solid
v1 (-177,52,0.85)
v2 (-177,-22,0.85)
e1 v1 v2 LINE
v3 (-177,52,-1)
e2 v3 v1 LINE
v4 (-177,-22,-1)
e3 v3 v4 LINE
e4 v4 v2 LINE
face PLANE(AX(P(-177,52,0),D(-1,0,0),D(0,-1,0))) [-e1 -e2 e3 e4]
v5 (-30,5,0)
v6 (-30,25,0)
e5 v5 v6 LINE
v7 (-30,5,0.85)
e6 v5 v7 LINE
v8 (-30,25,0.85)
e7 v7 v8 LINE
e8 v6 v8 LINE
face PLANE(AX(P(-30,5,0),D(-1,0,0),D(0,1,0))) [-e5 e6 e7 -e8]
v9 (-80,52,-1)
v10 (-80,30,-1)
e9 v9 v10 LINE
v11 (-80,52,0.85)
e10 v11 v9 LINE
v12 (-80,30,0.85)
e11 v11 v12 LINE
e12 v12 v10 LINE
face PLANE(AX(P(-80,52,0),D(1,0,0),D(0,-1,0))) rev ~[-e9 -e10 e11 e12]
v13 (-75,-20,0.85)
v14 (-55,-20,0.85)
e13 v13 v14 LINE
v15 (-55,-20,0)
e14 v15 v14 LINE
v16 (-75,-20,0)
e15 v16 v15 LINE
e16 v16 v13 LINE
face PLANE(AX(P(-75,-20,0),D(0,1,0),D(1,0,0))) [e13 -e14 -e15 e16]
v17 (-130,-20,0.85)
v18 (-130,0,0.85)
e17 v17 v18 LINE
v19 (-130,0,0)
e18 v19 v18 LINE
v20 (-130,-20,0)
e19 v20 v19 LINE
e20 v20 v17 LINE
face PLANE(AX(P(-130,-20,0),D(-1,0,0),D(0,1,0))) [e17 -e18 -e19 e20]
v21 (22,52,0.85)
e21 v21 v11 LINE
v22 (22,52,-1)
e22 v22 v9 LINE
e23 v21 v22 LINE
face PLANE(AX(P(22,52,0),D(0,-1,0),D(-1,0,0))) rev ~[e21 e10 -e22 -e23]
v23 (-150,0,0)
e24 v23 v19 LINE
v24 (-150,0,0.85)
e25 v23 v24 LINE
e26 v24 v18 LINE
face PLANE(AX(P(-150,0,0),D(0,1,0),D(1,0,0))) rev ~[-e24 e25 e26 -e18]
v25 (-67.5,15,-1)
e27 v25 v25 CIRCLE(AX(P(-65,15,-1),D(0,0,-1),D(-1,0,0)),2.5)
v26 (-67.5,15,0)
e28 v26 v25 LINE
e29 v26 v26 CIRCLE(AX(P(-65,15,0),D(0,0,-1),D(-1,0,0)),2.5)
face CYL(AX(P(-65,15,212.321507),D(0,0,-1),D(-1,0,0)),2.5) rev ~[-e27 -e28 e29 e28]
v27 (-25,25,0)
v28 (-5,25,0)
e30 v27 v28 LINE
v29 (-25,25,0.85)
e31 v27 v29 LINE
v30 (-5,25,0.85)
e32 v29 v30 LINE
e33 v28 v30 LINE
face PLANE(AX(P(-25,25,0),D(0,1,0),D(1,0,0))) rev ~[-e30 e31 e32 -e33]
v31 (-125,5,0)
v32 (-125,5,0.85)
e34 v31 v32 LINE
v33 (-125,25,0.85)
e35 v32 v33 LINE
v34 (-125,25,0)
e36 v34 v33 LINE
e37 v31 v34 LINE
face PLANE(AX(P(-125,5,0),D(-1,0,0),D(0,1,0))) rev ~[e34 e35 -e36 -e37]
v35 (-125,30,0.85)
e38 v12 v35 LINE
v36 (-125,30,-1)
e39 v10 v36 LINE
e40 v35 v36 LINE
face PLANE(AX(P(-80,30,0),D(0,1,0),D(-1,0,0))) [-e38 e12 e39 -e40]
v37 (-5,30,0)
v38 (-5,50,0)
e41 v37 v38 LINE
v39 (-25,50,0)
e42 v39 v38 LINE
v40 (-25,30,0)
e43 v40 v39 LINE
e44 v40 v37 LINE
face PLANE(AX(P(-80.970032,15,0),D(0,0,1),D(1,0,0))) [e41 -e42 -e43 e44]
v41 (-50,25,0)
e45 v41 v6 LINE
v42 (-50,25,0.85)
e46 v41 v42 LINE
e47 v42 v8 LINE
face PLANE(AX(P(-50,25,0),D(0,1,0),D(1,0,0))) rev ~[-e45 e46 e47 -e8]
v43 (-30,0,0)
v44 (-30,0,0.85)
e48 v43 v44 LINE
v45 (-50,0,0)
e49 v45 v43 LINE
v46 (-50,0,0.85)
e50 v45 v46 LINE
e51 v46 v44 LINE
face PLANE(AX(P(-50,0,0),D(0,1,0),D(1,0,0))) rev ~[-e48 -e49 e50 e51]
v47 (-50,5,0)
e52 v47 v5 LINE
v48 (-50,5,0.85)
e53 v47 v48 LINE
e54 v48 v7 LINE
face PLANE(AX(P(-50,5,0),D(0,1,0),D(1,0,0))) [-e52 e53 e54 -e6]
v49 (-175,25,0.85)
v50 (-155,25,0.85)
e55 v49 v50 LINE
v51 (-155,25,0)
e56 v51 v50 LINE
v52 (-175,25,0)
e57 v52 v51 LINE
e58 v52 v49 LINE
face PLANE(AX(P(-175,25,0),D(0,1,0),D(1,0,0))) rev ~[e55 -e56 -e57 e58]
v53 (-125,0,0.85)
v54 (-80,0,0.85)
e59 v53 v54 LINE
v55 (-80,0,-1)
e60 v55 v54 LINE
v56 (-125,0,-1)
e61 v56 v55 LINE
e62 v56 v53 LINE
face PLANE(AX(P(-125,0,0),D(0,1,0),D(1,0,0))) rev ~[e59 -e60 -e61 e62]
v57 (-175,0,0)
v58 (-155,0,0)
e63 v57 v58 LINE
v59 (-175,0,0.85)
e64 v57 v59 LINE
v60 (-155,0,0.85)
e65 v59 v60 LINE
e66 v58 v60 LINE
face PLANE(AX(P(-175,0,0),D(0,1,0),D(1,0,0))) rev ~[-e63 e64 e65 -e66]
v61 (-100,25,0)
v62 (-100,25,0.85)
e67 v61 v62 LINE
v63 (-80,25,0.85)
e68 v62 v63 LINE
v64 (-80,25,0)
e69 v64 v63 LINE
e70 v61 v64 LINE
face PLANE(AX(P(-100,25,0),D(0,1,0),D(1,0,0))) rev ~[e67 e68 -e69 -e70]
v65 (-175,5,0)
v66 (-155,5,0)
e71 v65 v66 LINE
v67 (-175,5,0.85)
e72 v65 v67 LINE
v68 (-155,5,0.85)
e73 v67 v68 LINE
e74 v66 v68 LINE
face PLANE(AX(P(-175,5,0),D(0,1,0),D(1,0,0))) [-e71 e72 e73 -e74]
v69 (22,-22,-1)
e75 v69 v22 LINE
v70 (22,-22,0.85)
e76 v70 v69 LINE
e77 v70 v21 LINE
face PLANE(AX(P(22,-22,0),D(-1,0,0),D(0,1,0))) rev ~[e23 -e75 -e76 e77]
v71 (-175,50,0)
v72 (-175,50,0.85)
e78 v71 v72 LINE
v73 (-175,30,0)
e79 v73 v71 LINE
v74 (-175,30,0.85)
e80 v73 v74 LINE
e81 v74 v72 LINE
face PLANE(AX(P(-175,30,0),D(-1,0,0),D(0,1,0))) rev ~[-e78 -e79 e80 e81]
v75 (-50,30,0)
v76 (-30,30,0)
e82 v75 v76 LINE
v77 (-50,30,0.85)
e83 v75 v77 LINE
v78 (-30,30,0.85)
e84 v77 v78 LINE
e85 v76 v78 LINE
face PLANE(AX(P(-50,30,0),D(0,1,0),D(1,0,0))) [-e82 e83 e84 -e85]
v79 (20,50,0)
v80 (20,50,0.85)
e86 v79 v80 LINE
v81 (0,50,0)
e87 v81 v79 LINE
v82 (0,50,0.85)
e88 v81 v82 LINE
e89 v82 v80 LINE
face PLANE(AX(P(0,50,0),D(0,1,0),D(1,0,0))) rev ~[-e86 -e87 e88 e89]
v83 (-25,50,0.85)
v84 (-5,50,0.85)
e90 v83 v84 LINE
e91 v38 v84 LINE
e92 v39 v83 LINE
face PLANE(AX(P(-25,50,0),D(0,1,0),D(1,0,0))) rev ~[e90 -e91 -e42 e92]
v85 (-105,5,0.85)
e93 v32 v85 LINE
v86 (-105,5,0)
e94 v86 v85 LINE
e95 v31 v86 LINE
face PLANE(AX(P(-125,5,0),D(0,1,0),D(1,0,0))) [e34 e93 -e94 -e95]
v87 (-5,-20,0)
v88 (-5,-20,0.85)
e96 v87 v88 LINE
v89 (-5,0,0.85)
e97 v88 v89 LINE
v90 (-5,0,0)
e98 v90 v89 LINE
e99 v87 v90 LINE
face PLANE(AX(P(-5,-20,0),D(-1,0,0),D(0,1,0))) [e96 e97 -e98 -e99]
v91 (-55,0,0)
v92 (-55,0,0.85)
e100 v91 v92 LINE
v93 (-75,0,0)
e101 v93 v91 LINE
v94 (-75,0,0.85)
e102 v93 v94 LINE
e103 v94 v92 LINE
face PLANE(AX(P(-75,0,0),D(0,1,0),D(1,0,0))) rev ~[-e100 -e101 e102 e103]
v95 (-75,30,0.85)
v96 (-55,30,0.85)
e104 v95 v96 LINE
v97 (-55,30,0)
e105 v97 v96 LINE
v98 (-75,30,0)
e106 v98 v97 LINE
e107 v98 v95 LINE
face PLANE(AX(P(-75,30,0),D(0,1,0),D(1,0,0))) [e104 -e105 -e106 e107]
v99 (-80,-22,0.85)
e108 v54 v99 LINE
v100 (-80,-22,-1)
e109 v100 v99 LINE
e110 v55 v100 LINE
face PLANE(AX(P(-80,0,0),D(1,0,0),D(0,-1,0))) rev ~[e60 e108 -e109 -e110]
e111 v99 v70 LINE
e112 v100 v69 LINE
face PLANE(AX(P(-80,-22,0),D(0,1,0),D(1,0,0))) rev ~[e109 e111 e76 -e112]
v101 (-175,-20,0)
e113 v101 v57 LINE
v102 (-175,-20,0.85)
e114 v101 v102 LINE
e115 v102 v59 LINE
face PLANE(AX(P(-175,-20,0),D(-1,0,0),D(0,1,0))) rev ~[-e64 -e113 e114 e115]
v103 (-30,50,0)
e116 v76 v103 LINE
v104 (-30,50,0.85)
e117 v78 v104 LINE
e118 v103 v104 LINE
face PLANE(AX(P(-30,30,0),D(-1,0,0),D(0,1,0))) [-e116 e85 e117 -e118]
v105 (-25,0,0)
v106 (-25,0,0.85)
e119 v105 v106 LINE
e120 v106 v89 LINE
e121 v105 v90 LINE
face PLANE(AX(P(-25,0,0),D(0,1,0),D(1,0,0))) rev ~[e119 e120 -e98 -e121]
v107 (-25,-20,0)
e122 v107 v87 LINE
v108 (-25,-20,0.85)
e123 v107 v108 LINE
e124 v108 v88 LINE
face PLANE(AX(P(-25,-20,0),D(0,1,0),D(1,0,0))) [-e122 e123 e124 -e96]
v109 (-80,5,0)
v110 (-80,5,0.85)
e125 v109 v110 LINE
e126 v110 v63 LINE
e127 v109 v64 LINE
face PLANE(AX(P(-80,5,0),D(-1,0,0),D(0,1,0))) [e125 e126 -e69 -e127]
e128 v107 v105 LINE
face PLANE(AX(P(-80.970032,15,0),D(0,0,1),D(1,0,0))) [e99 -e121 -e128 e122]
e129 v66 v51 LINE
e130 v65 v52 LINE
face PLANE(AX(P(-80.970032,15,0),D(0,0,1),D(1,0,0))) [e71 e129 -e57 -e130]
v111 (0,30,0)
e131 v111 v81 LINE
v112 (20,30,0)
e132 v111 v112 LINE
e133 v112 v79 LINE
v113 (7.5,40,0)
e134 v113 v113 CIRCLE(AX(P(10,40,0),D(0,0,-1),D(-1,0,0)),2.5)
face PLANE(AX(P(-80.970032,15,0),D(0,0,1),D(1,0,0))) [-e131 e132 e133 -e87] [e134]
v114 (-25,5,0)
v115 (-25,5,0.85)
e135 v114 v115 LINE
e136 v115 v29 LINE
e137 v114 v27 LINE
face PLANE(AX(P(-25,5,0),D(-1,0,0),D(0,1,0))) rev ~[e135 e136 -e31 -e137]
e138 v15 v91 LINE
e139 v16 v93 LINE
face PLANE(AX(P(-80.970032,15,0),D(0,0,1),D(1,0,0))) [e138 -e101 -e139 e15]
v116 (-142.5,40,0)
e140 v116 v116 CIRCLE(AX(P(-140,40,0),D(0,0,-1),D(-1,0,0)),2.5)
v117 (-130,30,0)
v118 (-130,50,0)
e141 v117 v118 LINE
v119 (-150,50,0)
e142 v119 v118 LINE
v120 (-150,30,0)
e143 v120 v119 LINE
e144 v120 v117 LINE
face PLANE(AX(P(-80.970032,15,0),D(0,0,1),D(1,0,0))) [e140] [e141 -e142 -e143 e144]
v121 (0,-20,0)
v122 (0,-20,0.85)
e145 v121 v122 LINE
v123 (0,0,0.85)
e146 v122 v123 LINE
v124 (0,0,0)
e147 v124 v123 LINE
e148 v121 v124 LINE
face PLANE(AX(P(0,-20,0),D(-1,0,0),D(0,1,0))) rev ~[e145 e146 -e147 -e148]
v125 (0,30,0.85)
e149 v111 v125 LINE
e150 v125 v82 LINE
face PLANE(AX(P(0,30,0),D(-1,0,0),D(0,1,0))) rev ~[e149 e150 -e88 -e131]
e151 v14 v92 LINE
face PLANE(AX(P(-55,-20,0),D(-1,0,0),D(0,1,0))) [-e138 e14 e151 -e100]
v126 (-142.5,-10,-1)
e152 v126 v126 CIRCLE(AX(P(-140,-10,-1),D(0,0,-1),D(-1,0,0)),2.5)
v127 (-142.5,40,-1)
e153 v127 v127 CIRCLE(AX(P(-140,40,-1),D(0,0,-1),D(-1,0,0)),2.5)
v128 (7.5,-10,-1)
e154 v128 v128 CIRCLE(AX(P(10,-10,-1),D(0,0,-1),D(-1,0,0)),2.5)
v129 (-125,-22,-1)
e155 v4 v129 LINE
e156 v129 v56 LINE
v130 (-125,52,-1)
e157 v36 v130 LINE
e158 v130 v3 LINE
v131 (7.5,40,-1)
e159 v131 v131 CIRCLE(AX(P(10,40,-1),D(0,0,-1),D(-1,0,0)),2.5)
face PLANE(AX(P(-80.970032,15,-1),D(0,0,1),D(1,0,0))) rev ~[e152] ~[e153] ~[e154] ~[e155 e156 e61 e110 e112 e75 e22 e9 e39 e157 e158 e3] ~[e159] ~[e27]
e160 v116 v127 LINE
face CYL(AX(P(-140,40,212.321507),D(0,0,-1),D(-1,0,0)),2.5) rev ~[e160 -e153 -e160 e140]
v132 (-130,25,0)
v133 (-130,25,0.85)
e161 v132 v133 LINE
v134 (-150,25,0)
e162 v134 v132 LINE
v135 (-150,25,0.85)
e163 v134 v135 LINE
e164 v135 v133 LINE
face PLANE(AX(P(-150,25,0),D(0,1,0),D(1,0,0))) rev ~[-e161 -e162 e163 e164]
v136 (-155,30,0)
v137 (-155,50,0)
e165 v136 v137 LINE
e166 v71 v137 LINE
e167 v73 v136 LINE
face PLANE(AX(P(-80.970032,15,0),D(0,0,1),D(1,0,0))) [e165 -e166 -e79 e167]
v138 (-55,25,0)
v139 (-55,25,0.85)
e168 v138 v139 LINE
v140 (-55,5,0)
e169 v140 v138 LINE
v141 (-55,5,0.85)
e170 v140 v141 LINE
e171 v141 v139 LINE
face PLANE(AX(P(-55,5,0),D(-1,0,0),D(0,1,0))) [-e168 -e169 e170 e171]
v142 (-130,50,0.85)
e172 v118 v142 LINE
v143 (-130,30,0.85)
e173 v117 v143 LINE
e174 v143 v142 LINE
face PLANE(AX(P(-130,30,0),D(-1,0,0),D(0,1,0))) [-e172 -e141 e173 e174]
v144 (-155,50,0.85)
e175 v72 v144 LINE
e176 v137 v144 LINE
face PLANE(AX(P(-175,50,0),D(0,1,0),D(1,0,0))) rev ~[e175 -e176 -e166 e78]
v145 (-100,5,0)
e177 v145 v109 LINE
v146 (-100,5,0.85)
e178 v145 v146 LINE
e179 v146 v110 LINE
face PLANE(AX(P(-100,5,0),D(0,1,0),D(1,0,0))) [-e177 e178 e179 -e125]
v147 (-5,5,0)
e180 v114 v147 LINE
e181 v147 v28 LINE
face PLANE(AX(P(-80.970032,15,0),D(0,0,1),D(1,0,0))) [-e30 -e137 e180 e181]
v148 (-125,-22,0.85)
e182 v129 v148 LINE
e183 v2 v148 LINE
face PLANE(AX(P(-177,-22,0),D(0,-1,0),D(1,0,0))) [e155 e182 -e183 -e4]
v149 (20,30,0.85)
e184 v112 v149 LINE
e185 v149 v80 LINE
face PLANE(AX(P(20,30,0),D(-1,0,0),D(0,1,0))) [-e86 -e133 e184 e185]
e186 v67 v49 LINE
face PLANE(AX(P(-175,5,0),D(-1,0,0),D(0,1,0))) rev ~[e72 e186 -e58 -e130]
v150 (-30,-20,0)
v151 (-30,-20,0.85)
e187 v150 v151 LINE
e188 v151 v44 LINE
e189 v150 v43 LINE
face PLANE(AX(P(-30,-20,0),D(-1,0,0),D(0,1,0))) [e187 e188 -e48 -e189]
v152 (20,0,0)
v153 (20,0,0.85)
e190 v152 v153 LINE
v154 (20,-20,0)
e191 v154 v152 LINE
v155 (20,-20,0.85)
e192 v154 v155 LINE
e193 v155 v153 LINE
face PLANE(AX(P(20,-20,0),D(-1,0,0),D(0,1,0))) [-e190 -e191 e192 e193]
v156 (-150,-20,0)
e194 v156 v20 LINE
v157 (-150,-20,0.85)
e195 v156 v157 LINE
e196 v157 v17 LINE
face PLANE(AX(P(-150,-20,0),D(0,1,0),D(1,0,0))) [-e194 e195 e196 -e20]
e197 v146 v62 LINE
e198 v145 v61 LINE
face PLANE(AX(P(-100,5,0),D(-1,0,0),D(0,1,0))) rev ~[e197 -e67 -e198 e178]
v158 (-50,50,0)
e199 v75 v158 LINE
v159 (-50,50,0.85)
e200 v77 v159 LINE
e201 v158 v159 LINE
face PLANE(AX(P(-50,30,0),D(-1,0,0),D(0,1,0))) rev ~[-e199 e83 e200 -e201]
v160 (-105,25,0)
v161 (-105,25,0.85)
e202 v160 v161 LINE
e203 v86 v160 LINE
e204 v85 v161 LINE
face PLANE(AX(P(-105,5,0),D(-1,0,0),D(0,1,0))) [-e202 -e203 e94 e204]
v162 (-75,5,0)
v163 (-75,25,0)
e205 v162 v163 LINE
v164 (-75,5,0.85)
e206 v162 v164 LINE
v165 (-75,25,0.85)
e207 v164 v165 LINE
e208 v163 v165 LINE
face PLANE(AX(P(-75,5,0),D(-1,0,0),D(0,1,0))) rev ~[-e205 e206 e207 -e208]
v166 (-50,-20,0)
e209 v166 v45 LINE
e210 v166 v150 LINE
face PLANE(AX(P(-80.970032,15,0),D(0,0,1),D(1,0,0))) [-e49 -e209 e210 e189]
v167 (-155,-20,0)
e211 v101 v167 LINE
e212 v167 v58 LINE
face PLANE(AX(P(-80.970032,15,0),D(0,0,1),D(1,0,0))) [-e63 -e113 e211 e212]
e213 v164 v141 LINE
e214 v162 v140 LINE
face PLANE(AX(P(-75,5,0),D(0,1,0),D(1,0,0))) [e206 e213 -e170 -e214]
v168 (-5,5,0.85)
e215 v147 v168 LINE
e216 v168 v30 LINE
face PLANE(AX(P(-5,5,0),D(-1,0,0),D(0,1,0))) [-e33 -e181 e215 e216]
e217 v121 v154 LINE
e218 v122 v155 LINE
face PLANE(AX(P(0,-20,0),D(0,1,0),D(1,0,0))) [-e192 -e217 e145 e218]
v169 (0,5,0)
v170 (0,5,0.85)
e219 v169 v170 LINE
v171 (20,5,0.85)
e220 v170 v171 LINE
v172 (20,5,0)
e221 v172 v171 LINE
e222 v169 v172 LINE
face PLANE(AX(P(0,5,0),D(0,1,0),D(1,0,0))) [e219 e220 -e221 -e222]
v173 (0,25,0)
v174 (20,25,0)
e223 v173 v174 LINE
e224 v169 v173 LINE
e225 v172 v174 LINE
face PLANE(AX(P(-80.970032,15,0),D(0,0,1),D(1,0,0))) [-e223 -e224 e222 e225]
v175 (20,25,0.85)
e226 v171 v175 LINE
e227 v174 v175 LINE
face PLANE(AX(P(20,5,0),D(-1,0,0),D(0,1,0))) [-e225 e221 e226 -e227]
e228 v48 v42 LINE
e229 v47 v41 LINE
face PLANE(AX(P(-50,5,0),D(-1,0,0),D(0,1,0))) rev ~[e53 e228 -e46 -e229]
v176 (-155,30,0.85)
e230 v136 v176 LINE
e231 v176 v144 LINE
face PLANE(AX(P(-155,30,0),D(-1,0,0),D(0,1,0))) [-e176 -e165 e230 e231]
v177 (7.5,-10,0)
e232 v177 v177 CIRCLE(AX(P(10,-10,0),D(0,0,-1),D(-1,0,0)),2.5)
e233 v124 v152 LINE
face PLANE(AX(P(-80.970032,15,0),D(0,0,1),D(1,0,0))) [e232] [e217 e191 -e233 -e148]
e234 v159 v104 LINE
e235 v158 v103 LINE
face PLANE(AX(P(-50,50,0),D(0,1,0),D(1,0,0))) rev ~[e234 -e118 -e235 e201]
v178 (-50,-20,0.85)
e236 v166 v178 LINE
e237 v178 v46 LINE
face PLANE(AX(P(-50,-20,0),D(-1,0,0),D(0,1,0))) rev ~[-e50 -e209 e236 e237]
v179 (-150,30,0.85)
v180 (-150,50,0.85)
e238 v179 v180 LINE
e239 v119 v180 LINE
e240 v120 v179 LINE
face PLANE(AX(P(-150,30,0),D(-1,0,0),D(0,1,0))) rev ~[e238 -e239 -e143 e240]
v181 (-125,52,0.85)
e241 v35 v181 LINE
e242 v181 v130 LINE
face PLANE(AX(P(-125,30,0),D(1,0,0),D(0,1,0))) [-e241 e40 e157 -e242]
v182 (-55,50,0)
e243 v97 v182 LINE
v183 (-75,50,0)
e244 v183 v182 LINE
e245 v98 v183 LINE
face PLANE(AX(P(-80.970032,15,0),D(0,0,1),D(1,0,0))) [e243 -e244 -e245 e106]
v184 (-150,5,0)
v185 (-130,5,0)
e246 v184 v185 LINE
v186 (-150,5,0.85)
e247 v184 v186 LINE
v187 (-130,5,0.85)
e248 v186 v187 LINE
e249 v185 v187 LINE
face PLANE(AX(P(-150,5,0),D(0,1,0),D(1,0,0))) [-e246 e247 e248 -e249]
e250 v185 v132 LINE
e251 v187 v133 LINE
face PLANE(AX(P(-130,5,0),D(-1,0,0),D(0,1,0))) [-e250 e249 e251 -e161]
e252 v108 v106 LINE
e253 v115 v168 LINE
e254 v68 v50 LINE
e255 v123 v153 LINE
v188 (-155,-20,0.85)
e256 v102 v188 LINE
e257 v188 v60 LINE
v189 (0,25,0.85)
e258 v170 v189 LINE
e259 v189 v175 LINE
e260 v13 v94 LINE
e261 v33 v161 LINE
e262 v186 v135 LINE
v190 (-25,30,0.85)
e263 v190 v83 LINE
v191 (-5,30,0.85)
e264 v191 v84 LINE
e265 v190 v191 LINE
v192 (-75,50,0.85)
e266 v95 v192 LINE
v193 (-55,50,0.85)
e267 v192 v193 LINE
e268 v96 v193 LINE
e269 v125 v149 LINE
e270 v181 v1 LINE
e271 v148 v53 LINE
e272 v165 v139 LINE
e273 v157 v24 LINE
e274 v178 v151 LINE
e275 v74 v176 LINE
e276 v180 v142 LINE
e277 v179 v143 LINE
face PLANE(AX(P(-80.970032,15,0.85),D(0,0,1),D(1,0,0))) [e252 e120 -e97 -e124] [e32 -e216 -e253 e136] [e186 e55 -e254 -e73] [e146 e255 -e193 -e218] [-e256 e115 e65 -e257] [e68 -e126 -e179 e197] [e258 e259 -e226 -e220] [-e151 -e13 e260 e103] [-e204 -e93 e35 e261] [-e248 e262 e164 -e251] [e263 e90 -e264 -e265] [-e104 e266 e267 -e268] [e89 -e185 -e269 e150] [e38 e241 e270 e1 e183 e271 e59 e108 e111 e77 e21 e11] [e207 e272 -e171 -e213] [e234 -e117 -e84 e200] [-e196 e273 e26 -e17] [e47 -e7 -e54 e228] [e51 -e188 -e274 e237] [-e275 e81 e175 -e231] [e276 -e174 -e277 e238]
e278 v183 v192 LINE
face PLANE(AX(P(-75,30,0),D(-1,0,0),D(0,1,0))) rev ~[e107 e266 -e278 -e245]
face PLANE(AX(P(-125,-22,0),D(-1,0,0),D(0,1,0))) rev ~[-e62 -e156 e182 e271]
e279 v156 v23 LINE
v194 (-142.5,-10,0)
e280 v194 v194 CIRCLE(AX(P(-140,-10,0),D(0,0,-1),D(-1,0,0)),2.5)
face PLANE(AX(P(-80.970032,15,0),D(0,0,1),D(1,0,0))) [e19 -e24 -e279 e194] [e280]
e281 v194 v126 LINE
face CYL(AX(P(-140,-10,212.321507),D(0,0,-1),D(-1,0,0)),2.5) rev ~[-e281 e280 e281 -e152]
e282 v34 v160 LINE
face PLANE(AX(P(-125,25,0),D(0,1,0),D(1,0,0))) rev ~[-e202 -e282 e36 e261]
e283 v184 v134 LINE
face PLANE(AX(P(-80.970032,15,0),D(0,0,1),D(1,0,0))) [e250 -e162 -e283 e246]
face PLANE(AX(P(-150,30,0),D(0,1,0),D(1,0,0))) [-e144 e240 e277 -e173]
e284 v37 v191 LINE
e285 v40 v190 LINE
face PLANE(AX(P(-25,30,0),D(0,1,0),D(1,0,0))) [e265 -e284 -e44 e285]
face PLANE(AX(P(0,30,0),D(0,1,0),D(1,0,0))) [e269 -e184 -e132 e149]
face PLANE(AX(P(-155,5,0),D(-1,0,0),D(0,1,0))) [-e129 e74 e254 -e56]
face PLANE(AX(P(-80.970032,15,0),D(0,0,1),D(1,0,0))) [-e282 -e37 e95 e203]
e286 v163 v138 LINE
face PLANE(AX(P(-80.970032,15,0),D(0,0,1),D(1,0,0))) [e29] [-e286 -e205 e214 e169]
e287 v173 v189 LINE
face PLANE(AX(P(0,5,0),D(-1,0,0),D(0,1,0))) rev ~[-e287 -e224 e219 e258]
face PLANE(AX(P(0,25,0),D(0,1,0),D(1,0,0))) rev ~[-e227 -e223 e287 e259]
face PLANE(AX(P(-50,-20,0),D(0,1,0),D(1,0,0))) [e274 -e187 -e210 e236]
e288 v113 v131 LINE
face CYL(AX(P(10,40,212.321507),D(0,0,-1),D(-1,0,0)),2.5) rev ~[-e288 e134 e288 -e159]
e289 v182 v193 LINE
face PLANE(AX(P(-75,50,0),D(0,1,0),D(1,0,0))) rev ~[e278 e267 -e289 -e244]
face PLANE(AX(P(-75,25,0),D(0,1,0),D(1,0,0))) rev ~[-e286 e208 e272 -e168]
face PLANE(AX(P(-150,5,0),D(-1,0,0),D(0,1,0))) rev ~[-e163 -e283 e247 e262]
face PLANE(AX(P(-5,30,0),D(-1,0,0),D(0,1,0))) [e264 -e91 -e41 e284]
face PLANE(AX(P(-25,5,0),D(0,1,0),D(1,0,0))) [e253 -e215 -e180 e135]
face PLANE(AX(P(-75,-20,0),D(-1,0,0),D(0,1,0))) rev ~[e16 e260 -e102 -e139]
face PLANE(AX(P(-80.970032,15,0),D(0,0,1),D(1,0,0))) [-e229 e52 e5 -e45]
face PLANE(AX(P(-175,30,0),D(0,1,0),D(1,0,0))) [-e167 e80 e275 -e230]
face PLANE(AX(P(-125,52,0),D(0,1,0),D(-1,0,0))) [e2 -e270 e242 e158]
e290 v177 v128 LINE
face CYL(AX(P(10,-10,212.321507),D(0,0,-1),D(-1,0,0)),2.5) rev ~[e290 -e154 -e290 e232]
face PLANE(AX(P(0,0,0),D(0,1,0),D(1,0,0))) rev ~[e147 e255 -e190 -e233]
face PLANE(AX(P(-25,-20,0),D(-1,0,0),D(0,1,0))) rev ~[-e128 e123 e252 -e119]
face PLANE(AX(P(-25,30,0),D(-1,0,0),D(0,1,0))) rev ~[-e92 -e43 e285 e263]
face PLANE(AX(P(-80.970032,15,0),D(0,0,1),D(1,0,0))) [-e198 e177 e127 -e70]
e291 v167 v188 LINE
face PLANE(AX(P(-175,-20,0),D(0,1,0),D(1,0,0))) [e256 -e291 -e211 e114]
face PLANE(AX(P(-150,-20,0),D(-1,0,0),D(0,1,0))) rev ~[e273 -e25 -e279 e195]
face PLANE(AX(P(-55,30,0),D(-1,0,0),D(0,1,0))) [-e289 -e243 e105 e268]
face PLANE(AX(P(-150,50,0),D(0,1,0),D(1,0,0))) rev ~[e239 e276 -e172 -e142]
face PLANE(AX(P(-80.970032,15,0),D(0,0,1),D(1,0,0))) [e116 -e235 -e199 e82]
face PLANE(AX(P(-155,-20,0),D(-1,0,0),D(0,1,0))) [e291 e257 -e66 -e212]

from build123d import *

# Parameters (mm, degrees)
F0_W      = 20
F0_H      = 20
F1_DEPTH  = 0.85
F1_FACE_W = 20
F1_FACE_H = 20
F2_DEPTH  = 1
F3_D      = 5


with BuildPart() as f1:
    # F0 (on Top) → F1 (new body)
    with BuildSketch(Plane.XY):
        Polygon((-125, 52), (-177, 52), (-177, -22), (-125, -22), (-125, 0), (-80, 0), (-80, -22), (22, -22), (22, 52), (-80, 52), (-80, 30), (-125, 30), align=None)
        with Locations((-165, -10)):
            Rectangle(F0_W, F0_H, mode=Mode.SUBTRACT)
        with Locations((-140, -10)):
            Rectangle(F0_W, F0_H, mode=Mode.SUBTRACT)
        with Locations((-65, -10)):
            Rectangle(F0_W, F0_H, mode=Mode.SUBTRACT)
        with Locations((-40, -10)):
            Rectangle(F0_W, F0_H, mode=Mode.SUBTRACT)
        with Locations((-15, -10)):
            Rectangle(F0_W, F0_H, mode=Mode.SUBTRACT)
        with Locations((10, -10)):
            Rectangle(F0_W, F0_H, mode=Mode.SUBTRACT)
        with Locations((-165, 15)):
            Rectangle(F0_W, F0_H, mode=Mode.SUBTRACT)
        with Locations((-140, 15)):
            Rectangle(F0_W, F0_H, mode=Mode.SUBTRACT)
        with Locations((-115, 15)):
            Rectangle(F0_W, F0_H, mode=Mode.SUBTRACT)
        with Locations((-90, 15)):
            Rectangle(F0_W, F0_H, mode=Mode.SUBTRACT)
        with Locations((-165, 40)):
            Rectangle(F0_W, F0_H, mode=Mode.SUBTRACT)
        with Locations((-140, 40)):
            Rectangle(F0_W, F0_H, mode=Mode.SUBTRACT)
        with Locations((-65, 15)):
            Rectangle(F0_W, F0_H, mode=Mode.SUBTRACT)
        with Locations((-40, 15)):
            Rectangle(F0_W, F0_H, mode=Mode.SUBTRACT)
        with Locations((-15, 15)):
            Rectangle(F0_W, F0_H, mode=Mode.SUBTRACT)
        with Locations((10, 15)):
            Rectangle(F0_W, F0_H, mode=Mode.SUBTRACT)
        with Locations((-65, 40)):
            Rectangle(F0_W, F0_H, mode=Mode.SUBTRACT)
        with Locations((-40, 40)):
            Rectangle(F0_W, F0_H, mode=Mode.SUBTRACT)
        with Locations((-15, 40)):
            Rectangle(F0_W, F0_H, mode=Mode.SUBTRACT)
        with Locations((10, 40)):
            Rectangle(F0_W, F0_H, mode=Mode.SUBTRACT)
    extrude(amount=F1_DEPTH)

    # F0 (on Top) + F1_face (on face) → F2 (join)
    with BuildSketch(Plane.XY):
        Polygon((-125, 52), (-177, 52), (-177, -22), (-125, -22), (-125, 0), (-80, 0), (-80, -22), (22, -22), (22, 52), (-80, 52), (-80, 30), (-125, 30), align=None)
        with Locations((-165, -10)):
            Rectangle(F0_W, F0_H, mode=Mode.SUBTRACT)
        with Locations((-140, -10)):
            Rectangle(F0_W, F0_H, mode=Mode.SUBTRACT)
        with Locations((-65, -10)):
            Rectangle(F0_W, F0_H, mode=Mode.SUBTRACT)
        with Locations((-40, -10)):
            Rectangle(F0_W, F0_H, mode=Mode.SUBTRACT)
        with Locations((-15, -10)):
            Rectangle(F0_W, F0_H, mode=Mode.SUBTRACT)
        with Locations((10, -10)):
            Rectangle(F0_W, F0_H, mode=Mode.SUBTRACT)
        with Locations((-165, 15)):
            Rectangle(F0_W, F0_H, mode=Mode.SUBTRACT)
        with Locations((-140, 15)):
            Rectangle(F0_W, F0_H, mode=Mode.SUBTRACT)
        with Locations((-115, 15)):
            Rectangle(F0_W, F0_H, mode=Mode.SUBTRACT)
        with Locations((-90, 15)):
            Rectangle(F0_W, F0_H, mode=Mode.SUBTRACT)
        with Locations((-165, 40)):
            Rectangle(F0_W, F0_H, mode=Mode.SUBTRACT)
        with Locations((-140, 40)):
            Rectangle(F0_W, F0_H, mode=Mode.SUBTRACT)
        with Locations((-65, 15)):
            Rectangle(F0_W, F0_H, mode=Mode.SUBTRACT)
        with Locations((-40, 15)):
            Rectangle(F0_W, F0_H, mode=Mode.SUBTRACT)
        with Locations((-15, 15)):
            Rectangle(F0_W, F0_H, mode=Mode.SUBTRACT)
        with Locations((10, 15)):
            Rectangle(F0_W, F0_H, mode=Mode.SUBTRACT)
        with Locations((-65, 40)):
            Rectangle(F0_W, F0_H, mode=Mode.SUBTRACT)
        with Locations((-40, 40)):
            Rectangle(F0_W, F0_H, mode=Mode.SUBTRACT)
        with Locations((-15, 40)):
            Rectangle(F0_W, F0_H, mode=Mode.SUBTRACT)
        with Locations((10, 40)):
            Rectangle(F0_W, F0_H, mode=Mode.SUBTRACT)
        with Locations((-140, 15)):
            Rectangle(F0_W, F0_H)
        with Locations((-165, 15)):
            Rectangle(F0_W, F0_H)
        with Locations((-165, 40)):
            Rectangle(F0_W, F0_H)
        with Locations((-140, 40)):
            Rectangle(F0_W, F0_H)
        with Locations((-115, 15)):
            Rectangle(F0_W, F0_H)
        with Locations((-140, -10)):
            Rectangle(F0_W, F0_H)
        with Locations((-165, -10)):
            Rectangle(F0_W, F0_H)
        with Locations((-90, 15)):
            Rectangle(F0_W, F0_H)
        with Locations((-65, 40)):
            Rectangle(F0_W, F0_H)
        with Locations((-65, 15)):
            Rectangle(F0_W, F0_H)
        with Locations((-40, 15)):
            Rectangle(F0_W, F0_H)
        with Locations((-65, -10)):
            Rectangle(F0_W, F0_H)
        with Locations((-40, -10)):
            Rectangle(F0_W, F0_H)
        with Locations((-40, 40)):
            Rectangle(F0_W, F0_H)
        with Locations((-15, 40)):
            Rectangle(F0_W, F0_H)
        with Locations((-15, 15)):
            Rectangle(F0_W, F0_H)
        with Locations((-15, -10)):
            Rectangle(F0_W, F0_H)
        with Locations((10, -10)):
            Rectangle(F0_W, F0_H)
        with Locations((10, 15)):
            Rectangle(F0_W, F0_H)
        with Locations((10, 40)):
            Rectangle(F0_W, F0_H)
    with BuildSketch(Plane(origin=(-75.49831437, 15, 0.85), x_dir=(1, 0, 0), z_dir=(0, 0, 1))):
        Polygon((-49.50168563, 37), (-101.50168563, 37), (-101.50168563, -37), (-49.50168563, -37), (-49.50168563, -15), (-4.50168563, -15), (-4.50168563, -37), (97.49831437, -37), (97.49831437, 37), (-4.50168563, 37), (-4.50168563, 15), (-49.50168563, 15), align=None)
        with Locations((-89.50168563, -25)):
            Rectangle(F1_FACE_W, F1_FACE_H, mode=Mode.SUBTRACT)
        with Locations((-64.50168563, -25)):
            Rectangle(F1_FACE_W, F1_FACE_H, mode=Mode.SUBTRACT)
        with Locations((10.49831437, -25)):
            Rectangle(F1_FACE_W, F1_FACE_H, mode=Mode.SUBTRACT)
        with Locations((35.49831437, -25)):
            Rectangle(F1_FACE_W, F1_FACE_H, mode=Mode.SUBTRACT)
        with Locations((60.49831437, -25)):
            Rectangle(F1_FACE_W, F1_FACE_H, mode=Mode.SUBTRACT)
        with Locations((85.49831437, -25)):
            Rectangle(F1_FACE_W, F1_FACE_H, mode=Mode.SUBTRACT)
        with Locations((-89.50168563, 0)):
            Rectangle(F1_FACE_W, F1_FACE_H, mode=Mode.SUBTRACT)
        with Locations((-64.50168563, 0)):
            Rectangle(F1_FACE_W, F1_FACE_H, mode=Mode.SUBTRACT)
        with Locations((-39.50168563, 0)):
            Rectangle(F1_FACE_W, F1_FACE_H, mode=Mode.SUBTRACT)
        with Locations((-14.50168563, 0)):
            Rectangle(F1_FACE_W, F1_FACE_H, mode=Mode.SUBTRACT)
        with Locations((-89.50168563, 25)):
            Rectangle(F1_FACE_W, F1_FACE_H, mode=Mode.SUBTRACT)
        with Locations((-64.50168563, 25)):
            Rectangle(F1_FACE_W, F1_FACE_H, mode=Mode.SUBTRACT)
        with Locations((10.49831437, 0)):
            Rectangle(F1_FACE_W, F1_FACE_H, mode=Mode.SUBTRACT)
        with Locations((35.49831437, 0)):
            Rectangle(F1_FACE_W, F1_FACE_H, mode=Mode.SUBTRACT)
        with Locations((60.49831437, 0)):
            Rectangle(F1_FACE_W, F1_FACE_H, mode=Mode.SUBTRACT)
        with Locations((85.49831437, 0)):
            Rectangle(F1_FACE_W, F1_FACE_H, mode=Mode.SUBTRACT)
        with Locations((10.49831437, 25)):
            Rectangle(F1_FACE_W, F1_FACE_H, mode=Mode.SUBTRACT)
        with Locations((35.49831437, 25)):
            Rectangle(F1_FACE_W, F1_FACE_H, mode=Mode.SUBTRACT)
        with Locations((60.49831437, 25)):
            Rectangle(F1_FACE_W, F1_FACE_H, mode=Mode.SUBTRACT)
        with Locations((85.49831437, 25)):
            Rectangle(F1_FACE_W, F1_FACE_H, mode=Mode.SUBTRACT)
    extrude(amount=-F2_DEPTH)

    # F3 (through all)
    with Locations(Plane.XY):
        with Locations((-140, 40), (-140, -10), (-65, 15), (10, -10), (10, 40)):
            Hole(F3_D / 2)


solid = f1.part
